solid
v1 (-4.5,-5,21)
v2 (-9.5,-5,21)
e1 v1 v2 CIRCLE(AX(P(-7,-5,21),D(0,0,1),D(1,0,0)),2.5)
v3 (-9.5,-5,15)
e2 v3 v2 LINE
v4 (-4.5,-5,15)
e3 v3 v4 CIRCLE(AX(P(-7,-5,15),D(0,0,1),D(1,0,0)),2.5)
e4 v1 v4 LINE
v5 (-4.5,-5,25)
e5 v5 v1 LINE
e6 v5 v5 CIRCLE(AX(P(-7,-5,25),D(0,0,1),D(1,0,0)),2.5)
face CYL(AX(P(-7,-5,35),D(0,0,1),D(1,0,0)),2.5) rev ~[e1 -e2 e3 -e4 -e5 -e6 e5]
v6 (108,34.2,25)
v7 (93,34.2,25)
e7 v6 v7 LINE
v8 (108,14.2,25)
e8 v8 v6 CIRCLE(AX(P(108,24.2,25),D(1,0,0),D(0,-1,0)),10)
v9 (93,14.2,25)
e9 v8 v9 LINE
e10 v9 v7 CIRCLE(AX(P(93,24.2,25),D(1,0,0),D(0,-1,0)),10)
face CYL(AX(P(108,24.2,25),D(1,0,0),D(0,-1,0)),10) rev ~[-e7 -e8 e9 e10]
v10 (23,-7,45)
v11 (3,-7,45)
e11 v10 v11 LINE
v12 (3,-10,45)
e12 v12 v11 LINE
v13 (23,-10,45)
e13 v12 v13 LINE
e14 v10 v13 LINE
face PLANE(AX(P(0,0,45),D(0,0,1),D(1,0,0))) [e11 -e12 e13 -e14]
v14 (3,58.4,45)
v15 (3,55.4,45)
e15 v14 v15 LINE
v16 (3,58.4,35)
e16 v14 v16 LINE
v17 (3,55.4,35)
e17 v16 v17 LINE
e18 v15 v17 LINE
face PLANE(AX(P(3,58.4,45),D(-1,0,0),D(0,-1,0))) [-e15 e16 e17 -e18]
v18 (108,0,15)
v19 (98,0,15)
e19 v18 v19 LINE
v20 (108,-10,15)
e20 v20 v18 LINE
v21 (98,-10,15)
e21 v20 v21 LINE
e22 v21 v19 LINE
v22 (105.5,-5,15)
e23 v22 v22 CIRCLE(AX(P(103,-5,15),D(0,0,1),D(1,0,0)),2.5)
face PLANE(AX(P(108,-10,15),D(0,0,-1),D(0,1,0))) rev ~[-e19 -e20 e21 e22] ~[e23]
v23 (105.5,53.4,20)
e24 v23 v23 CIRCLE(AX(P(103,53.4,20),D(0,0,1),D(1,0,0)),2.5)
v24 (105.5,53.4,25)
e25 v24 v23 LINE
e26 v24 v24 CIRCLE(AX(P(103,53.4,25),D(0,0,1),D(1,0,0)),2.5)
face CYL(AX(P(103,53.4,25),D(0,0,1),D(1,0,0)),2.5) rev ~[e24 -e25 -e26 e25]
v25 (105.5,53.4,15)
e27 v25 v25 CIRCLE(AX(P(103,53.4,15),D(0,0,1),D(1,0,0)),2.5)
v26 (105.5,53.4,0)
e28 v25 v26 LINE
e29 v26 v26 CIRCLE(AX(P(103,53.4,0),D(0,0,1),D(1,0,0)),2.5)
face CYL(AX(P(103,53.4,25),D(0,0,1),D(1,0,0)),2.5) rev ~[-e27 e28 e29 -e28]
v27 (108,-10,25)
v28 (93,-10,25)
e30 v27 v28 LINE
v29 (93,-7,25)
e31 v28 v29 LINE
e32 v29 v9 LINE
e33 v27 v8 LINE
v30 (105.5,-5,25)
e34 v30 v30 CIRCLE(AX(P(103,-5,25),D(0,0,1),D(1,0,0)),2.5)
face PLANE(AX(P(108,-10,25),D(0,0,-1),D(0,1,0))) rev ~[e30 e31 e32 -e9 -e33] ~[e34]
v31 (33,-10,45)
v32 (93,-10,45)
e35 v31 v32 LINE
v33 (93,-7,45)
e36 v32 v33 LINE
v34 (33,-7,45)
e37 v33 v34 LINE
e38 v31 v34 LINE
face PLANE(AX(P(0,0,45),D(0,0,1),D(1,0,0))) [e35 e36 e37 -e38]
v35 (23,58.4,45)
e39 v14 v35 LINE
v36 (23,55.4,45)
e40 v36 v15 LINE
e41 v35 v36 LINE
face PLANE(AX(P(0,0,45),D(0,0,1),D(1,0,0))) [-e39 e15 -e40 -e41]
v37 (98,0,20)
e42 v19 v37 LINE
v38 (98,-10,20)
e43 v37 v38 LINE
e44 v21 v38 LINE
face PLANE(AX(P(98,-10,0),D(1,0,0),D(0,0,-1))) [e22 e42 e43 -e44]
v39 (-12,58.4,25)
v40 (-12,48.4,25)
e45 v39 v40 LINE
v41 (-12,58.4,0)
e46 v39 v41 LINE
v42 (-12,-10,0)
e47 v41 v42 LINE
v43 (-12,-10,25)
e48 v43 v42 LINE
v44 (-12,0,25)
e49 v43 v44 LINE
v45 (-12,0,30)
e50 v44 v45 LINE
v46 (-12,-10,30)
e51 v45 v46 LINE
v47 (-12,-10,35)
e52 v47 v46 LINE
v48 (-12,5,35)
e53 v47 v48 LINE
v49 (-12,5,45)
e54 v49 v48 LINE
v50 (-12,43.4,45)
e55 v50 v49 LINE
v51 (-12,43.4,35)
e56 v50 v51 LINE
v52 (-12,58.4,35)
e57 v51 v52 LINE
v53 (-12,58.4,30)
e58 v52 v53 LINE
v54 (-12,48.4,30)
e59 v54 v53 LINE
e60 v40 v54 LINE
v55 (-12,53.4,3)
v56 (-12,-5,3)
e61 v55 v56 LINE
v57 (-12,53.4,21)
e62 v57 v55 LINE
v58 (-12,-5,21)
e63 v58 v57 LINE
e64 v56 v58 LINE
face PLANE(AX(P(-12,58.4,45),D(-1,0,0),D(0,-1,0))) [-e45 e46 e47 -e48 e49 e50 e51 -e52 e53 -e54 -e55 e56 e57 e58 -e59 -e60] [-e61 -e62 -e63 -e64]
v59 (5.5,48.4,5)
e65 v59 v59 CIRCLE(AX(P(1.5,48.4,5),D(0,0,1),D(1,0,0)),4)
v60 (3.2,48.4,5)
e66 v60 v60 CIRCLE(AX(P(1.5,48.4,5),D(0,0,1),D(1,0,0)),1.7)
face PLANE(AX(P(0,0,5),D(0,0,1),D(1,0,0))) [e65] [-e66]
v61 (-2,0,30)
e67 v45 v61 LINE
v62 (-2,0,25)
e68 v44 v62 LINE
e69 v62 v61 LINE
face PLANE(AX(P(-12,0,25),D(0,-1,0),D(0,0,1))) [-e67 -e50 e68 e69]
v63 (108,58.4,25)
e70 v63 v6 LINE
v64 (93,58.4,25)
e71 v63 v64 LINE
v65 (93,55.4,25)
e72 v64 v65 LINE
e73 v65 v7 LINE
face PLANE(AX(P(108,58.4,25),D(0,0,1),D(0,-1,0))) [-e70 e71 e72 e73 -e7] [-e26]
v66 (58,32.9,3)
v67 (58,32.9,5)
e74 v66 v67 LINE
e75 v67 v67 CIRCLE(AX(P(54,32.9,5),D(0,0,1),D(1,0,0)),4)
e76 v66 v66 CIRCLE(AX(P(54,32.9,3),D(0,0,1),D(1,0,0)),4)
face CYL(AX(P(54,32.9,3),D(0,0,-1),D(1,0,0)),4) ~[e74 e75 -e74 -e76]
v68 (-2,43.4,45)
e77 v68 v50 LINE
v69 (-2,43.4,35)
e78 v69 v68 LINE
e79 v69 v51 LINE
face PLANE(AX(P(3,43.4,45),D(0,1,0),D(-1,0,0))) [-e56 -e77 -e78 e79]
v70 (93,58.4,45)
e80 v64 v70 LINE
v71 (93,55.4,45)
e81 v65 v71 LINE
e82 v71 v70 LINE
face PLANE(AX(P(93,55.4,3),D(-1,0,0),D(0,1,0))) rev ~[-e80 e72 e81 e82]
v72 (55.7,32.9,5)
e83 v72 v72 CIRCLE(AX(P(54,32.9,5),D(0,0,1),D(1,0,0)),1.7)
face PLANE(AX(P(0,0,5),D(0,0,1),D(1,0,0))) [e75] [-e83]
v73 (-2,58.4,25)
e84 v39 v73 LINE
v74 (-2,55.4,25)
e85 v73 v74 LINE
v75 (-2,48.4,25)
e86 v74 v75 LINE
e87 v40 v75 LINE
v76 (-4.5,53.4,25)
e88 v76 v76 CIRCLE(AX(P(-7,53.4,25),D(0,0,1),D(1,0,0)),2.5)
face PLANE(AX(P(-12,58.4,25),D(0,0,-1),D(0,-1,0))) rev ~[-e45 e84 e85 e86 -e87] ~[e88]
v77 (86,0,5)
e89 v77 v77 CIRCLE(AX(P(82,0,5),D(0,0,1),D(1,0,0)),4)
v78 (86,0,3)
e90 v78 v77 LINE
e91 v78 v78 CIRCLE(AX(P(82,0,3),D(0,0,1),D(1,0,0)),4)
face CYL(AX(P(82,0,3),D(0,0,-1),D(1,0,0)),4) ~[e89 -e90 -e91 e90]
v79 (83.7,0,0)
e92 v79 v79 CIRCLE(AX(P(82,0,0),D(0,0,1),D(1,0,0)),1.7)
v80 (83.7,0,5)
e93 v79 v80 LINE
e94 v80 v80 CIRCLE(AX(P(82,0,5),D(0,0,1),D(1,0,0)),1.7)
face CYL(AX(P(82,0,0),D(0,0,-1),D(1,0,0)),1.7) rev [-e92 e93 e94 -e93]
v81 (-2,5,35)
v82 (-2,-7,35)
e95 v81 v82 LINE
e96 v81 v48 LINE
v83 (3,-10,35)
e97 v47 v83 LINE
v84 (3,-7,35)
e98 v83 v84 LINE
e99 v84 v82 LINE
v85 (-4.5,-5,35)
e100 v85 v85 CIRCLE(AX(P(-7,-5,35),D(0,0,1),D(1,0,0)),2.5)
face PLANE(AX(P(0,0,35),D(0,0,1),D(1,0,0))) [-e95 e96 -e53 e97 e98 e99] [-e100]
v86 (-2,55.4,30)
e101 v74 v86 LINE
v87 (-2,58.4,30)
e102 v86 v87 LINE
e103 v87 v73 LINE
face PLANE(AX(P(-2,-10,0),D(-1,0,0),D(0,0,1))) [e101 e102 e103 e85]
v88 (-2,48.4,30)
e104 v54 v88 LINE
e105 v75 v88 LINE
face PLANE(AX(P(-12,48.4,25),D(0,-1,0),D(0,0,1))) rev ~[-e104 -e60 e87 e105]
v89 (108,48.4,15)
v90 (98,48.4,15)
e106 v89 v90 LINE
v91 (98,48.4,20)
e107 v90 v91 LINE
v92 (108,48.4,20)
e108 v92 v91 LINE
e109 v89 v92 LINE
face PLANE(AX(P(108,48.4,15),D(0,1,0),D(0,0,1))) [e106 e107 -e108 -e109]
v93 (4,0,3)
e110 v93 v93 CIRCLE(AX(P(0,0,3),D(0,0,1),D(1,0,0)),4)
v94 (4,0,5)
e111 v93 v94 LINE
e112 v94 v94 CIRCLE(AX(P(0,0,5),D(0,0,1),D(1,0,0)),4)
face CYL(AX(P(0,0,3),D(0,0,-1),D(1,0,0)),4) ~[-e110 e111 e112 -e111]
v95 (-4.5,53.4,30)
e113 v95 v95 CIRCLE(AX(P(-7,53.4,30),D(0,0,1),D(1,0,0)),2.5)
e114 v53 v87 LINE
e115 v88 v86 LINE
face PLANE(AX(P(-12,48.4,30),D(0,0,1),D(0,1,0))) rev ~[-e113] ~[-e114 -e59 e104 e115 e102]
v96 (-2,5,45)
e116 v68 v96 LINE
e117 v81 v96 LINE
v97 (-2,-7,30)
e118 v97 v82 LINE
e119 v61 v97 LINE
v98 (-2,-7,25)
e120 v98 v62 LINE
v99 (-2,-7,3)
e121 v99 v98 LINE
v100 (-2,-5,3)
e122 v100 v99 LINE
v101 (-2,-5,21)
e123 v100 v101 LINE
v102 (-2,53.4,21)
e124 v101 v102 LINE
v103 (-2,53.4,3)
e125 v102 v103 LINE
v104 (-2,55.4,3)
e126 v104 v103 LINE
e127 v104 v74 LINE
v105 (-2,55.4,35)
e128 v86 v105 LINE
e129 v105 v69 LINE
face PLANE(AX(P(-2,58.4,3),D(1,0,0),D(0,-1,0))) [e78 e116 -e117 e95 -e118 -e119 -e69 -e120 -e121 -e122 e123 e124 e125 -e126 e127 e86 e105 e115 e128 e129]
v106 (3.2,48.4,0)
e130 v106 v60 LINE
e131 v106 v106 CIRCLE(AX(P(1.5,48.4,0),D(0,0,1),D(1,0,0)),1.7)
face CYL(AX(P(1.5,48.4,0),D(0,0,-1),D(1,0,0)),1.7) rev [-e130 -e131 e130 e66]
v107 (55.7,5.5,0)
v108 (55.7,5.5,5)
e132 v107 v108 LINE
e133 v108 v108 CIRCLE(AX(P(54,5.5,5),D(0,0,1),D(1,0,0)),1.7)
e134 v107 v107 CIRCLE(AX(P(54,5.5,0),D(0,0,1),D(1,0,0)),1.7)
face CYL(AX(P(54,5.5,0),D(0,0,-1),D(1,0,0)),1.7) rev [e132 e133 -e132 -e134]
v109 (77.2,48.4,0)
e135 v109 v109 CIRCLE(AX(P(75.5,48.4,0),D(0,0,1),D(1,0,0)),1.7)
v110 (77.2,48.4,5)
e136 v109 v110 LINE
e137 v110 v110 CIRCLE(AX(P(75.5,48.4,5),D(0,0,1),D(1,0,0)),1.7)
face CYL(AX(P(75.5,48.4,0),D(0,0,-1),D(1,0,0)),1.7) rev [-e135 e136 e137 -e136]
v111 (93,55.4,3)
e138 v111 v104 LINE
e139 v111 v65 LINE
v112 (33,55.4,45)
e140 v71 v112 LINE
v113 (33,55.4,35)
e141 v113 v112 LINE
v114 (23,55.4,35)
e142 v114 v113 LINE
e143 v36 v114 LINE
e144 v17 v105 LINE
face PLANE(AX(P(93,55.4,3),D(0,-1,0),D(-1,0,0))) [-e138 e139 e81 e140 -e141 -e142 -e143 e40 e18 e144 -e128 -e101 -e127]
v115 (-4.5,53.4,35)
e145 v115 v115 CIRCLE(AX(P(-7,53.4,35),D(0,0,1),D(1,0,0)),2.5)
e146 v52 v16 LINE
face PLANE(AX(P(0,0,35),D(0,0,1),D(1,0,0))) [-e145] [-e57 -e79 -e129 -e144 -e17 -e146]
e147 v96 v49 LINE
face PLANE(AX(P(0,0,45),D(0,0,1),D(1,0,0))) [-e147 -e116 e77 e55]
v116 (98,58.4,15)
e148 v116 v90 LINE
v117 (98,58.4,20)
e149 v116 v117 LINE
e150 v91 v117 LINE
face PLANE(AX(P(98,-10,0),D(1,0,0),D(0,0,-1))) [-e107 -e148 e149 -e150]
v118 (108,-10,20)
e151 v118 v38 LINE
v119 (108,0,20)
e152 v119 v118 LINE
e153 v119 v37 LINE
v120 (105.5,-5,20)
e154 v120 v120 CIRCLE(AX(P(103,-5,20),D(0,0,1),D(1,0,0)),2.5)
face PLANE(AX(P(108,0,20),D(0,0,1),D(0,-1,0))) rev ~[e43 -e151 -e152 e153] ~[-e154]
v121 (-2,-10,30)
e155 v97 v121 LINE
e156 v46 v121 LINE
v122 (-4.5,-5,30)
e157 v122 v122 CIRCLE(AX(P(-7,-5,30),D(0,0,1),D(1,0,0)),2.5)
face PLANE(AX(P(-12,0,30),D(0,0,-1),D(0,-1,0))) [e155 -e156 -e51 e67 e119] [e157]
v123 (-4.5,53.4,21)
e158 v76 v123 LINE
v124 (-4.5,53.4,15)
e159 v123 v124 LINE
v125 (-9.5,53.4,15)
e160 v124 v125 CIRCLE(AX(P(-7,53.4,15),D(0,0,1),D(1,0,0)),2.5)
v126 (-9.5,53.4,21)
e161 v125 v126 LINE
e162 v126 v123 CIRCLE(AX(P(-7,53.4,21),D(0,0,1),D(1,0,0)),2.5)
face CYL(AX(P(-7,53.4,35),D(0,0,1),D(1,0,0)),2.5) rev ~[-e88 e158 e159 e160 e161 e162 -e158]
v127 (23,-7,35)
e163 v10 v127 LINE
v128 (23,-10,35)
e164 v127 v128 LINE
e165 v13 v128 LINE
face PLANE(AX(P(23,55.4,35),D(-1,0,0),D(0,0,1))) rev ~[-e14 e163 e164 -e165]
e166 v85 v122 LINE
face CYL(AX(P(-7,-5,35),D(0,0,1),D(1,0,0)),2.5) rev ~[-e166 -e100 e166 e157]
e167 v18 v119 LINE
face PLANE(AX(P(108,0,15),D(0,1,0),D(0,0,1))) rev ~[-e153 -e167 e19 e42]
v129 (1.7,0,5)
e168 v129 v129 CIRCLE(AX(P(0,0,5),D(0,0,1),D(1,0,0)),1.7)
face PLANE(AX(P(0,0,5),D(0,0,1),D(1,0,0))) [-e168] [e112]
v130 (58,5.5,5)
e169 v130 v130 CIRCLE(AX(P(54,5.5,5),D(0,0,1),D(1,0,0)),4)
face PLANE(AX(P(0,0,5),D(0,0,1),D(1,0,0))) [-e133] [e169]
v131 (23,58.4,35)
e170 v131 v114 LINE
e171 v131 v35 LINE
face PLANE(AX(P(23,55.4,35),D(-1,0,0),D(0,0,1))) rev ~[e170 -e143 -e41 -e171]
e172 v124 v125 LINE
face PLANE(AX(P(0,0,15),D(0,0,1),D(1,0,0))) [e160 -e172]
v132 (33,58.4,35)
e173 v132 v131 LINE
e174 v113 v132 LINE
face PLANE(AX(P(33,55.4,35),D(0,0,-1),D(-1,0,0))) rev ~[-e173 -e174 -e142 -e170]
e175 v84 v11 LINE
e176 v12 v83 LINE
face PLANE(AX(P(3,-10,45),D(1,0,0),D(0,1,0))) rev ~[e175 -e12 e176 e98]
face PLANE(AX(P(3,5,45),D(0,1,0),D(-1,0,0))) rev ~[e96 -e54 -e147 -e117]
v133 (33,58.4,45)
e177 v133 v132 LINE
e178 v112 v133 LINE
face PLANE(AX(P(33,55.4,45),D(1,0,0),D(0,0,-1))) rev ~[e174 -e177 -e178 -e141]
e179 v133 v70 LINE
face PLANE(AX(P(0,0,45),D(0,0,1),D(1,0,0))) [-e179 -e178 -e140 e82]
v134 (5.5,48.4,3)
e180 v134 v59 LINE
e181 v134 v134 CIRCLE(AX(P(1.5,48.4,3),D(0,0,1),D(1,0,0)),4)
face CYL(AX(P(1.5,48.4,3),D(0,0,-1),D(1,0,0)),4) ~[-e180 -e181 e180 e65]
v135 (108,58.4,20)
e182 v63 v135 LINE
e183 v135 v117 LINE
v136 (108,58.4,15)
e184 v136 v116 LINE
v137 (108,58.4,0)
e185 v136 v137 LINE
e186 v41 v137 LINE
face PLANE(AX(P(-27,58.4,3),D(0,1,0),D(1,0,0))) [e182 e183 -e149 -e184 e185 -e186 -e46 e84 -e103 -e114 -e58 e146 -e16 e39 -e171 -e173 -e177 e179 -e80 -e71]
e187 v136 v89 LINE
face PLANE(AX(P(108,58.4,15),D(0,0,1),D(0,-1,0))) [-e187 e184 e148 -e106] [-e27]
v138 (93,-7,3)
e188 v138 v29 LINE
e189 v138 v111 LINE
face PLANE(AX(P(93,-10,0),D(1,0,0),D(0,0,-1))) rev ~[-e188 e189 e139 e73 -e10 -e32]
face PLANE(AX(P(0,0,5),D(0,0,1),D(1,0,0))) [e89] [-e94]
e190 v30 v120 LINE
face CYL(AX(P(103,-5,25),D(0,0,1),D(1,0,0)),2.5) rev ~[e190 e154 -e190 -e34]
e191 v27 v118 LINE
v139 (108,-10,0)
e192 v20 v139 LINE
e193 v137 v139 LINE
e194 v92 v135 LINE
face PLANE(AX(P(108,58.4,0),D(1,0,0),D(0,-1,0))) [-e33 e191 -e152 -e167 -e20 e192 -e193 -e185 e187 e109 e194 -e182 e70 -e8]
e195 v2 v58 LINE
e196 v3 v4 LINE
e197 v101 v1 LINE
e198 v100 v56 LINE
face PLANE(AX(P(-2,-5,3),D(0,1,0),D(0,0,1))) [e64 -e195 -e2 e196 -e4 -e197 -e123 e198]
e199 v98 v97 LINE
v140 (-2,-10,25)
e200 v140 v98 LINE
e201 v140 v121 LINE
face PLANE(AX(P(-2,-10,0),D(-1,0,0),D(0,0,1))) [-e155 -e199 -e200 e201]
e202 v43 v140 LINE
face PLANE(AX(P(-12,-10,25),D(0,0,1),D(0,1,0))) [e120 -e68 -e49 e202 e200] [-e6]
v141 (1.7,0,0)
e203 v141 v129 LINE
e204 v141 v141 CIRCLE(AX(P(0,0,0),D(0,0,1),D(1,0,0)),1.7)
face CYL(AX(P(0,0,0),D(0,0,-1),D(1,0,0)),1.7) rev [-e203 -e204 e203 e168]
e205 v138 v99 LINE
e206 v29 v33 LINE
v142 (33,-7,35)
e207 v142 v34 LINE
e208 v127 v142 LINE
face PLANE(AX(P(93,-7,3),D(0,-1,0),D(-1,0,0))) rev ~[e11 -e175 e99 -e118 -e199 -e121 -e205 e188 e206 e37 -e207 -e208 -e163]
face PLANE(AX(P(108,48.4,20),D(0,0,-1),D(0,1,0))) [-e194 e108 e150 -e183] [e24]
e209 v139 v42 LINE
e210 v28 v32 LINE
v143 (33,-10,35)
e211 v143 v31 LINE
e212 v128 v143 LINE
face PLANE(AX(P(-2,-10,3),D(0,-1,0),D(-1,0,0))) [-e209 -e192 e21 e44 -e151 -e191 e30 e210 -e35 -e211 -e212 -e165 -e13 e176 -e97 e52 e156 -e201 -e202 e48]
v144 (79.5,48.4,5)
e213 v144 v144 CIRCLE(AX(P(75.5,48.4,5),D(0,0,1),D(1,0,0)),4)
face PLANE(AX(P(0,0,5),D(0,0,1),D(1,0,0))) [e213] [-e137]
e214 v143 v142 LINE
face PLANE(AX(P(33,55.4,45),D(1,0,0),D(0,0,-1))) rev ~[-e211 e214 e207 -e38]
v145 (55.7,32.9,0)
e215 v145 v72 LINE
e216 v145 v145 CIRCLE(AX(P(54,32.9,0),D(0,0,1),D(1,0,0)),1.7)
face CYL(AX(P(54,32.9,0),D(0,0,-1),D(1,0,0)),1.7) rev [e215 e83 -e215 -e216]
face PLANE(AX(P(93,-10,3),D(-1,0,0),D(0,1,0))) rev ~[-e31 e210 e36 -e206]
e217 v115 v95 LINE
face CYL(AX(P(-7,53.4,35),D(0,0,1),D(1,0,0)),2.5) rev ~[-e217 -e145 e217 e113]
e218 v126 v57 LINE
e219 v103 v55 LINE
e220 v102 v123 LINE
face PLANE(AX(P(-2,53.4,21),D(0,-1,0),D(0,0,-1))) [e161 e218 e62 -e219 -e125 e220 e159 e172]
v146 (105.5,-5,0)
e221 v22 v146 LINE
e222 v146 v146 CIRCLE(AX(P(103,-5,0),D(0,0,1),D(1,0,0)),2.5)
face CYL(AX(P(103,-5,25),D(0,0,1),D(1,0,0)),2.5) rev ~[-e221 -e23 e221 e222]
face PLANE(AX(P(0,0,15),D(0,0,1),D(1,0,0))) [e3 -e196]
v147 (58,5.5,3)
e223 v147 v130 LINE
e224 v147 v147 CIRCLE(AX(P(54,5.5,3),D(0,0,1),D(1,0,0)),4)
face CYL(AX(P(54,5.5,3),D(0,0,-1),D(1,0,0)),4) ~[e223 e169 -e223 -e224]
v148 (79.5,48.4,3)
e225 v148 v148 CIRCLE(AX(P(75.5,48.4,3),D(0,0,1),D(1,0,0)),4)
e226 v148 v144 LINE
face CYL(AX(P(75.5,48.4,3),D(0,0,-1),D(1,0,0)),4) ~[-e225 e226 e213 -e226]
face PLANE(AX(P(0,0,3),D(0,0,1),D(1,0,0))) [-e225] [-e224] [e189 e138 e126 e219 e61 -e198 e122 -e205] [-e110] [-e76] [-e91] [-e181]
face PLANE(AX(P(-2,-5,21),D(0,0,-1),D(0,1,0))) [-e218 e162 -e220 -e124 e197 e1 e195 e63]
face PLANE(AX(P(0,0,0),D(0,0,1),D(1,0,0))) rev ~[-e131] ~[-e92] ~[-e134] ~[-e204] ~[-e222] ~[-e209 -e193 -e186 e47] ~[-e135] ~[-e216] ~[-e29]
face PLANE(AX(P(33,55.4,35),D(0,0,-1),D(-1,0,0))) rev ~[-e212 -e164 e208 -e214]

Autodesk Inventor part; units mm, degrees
ref_plane "YZ Plane" through (0, 0, 0) normal (1, 0, 0) x (0, 1, 0)
ref_plane "XZ Plane" through (0, 0, 0) normal (0, 1, 0) x (-1, 0, 0)
ref_plane "XY Plane" through (0, 0, 0) normal (0, 0, 1) x (1, 0, 0)
sketch "Sketch1" plane through (0, 0, 0) normal (0, 0, 1) x (1, 0, 0)
  line L0 (-27, 58.4) -> (108, 58.4)
  line L1 (108, 58.4) -> (108, -10)
  line L2 (108, -10) -> (-27, -10)
  line L3 (-27, -10) -> (-27, 58.4)
  circle A0 centre (82, 0) radius 1.7
  circle A1 centre (54, 5.5) radius 1.7
  circle A2 centre (54, 32.9) radius 1.7
  circle A3 centre (75.5, 48.4) radius 1.7
  circle A4 centre (1.5, 48.4) radius 1.7
  circle A5 centre (0, 0) radius 1.7
  dimension "d63" = 82
  dimension "d64" = 48.4
  dimension "d65" = 1.5
  dimension "d66" = 15.5
  dimension "d67" = 27.4
  dimension "d68" = 48.4
  dimension "d69" = 6.5
  dimension "d70" = 74
  dimension "d71" = 5.5
  dimension "d72" = 28
  dimension "d75" = 135
  dimension "d76" = 68.4
  dimension "d77" = 10
  dimension "d78" = 27
  dimension "d79" = 3.4
  dimension "d80" = 3.4
  dimension "d81" = 3.4
  dimension "d82" = 3.4
  dimension "d83" = 3.4
  dimension "d84" = 3.4
extrude "Extrusion1" add sketch "Sketch1" along normal blind 3
sketch "Sketch2" plane through (108, -10, 0) normal (1, 0, 0) x (0, 0, -1)
  circle A0 centre (-25, 34.2) radius 10 construction
  line L0 (-3, 0) -> (-3, 68.4) projected
  line L1 (0, 0) -> (-3, 0) projected
  line L2 (-3, 0) -> (-25, 0)
  line L3 (-25, 0) -> (-25, 68.4) construction
  line L4 (-25, 68.4) -> (-3, 68.4)
  line L5 (-25, 68.4) -> (-25, 44.2)
  line L6 (-25, 0) -> (-25, 24.2)
  arc A1 (-25, 24.2) -> (-25, 44.2) centre (-25, 34.2) ccw
  point P0 (0, 10)
  point P1 (-3, 34.2)
  point P2 (-3, 34.2)
  dimension "d23" = 20
  dimension "d24" = 22
extrude "Extrusion2" add sketch "Sketch2" against normal blind 15
sketch "Sketch3" plane through (108, -10, 25) normal (0, 0, 1) x (1, 0, 0)
  circle A0 centre (-5, 5) radius 2.5
  line L0 (0, 0) -> (-15, 0) projected
  line L1 (0, 24.2) -> (0, 0) projected
  point P0 (-108, 10)
  dimension "d28" = 5
  dimension "d29" = 5
  dimension "d30" = 5
extrude "Extrusion3" cut sketch "Sketch3" against normal through all
sketch "Sketch4" plane through (0, 0, 3) normal (0, 0, 1) x (1, 0, 0)
  line L0 (-27, 58.4) -> (108, 58.4) projected
  line L1 (-27, 58.4) -> (-2, 58.4)
  line L2 (-2, 58.4) -> (-2, -10)
  line L3 (-2, -10) -> (-27, -10)
  line L4 (-27, -10) -> (-27, 58.4)
  point P0 (0, 0)
  point P1 (93, -10)
  dimension "d33" = 25
extrude "Extrusion4" add sketch "Sketch4" along normal blind 42
sketch "Sketch5" plane through (-2, -10, 3) normal (1, 0, 0) x (0, 0, -1)
  line L0 (0, 68.4) -> (0, 0) projected
  line L1 (0, 0) -> (0, 68.4) projected
  line L2 (0, 5) -> (-18, 5)
  line L3 (-18, 5) -> (-18, 63.4)
  line L4 (-18, 63.4) -> (0, 63.4)
  line L5 (0, 63.4) -> (0, 5)
  line L6 (3, 68.4) -> (-42, 68.4) projected
  point P0 (3, 10)
  point P1 (0, 8.3)
  point P2 (0, 11.7)
  point P3 (0, 23.8)
  point P4 (0, 27.2)
  point P5 (0, 51.2)
  point P6 (0, 54.6)
  point P7 (0, 56.7)
  point P8 (0, 60.1)
  point P9 (0, 56.7)
  point P10 (0, 60.1)
  point P11 (0, 8.3)
  point P12 (0, 11.7)
  dimension "d36" = 5
  dimension "d37" = 5
  dimension "d38" = 18
extrude "Extrusion5" cut sketch "Sketch5" against normal through all
sketch "Sketch6" plane through (0, 0, 3) normal (0, 0, 1) x (1, 0, 0)
  line L0 (-2, -10) -> (93, -10) projected
  line L1 (93, -10) -> (93, 58.4) projected
  line L2 (-2, -10) -> (93, -10)
  line L3 (93, -10) -> (93, -7)
  line L4 (93, -7) -> (-2, -7)
  line L5 (-2, -7) -> (-2, -10)
  line L6 (93, 58.4) -> (-2, 58.4) projected
  line L7 (-2, 58.4) -> (93, 58.4)
  line L8 (93, 58.4) -> (93, 55.4)
  line L9 (93, 55.4) -> (-2, 55.4)
  line L10 (-2, 55.4) -> (-2, 58.4)
  point P0 (0, 0)
  dimension "d41" = 3
  dimension "d42" = 3
extrude "Extrusion6" add sketch "Sketch6" along normal blind 42
sketch "Sketch7" plane through (108, 34.2, 25) normal (0, 0, 1) x (1, 0, 0)
  circle A0 centre (-5, 19.2) radius 2.5
  line L0 (0, 24.2) -> (-15, 24.2) projected
  point P0 (-108, -34.2)
  dimension "d45" = 5
  dimension "d46" = 5
  dimension "d47" = 5
extrude "Extrusion7" cut sketch "Sketch7" against normal through all
sketch "Sketch9" plane through (-2, 55.4, 3) normal (0, -1, 0) x (1, 0, 0)
  line L0 (0, 42) -> (95, 42) projected
  line L1 (25, 42) -> (35, 42)
  line L2 (35, 42) -> (35, 32)
  line L3 (35, 32) -> (25, 32)
  line L4 (25, 32) -> (25, 42)
  point P0 (2, -3)
  dimension "d50" = 25
  dimension "d51" = 10
  dimension "d52" = 10
extrude "Extrusion8" cut sketch "Sketch9" along normal through all both and the other way through all
sketch "Sketch10" plane through (108, -10, 0) normal (1, 0, 0) x (0, 0, -1)
  line L0 (0, 7.5) -> (0, 2.5) projected
  line L1 (-25, 2.5) -> (-25, 7.5) projected
  line L2 (0, 65.9) -> (0, 60.9) projected
  line L3 (-25, 60.9) -> (-25, 65.9) projected
  line L4 (0, 0) -> (-45, 0) projected
  line L5 (-20, 0) -> (-15, 0)
  line L6 (-15, 0) -> (-15, 10)
  line L7 (-15, 10) -> (-20, 10)
  line L8 (-20, 10) -> (-20, 0)
  line L9 (0, 68.4) -> (-45, 68.4) projected
  line L10 (-20, 68.4) -> (-15, 68.4)
  line L11 (-15, 68.4) -> (-15, 58.4)
  line L12 (-15, 58.4) -> (-20, 58.4)
  line L13 (-20, 58.4) -> (-20, 68.4)
  point P0 (0, 10)
  dimension "d55" = 5
  dimension "d56" = 10
  dimension "d57" = 5
  dimension "d58" = 10
extrude "Extrusion9" cut sketch "Sketch10" against normal blind 10
sketch "Sketch12" plane through (0, 0, 45) normal (0, 0, 1) x (1, 0, 0)
  line L0 (23, 58.4) -> (-27, 58.4) projected
  line L1 (-27, -10) -> (23, -10) projected
  line L2 (-27, 58.4) -> (-12, 58.4)
  line L3 (-12, 58.4) -> (-12, -10)
  line L4 (-12, -10) -> (-27, -10)
  line L5 (-27, -10) -> (-27, 58.4)
  line L6 (-2, -7) -> (-2, 55.4) projected
  point P0 (0, 0)
  dimension "d85" = 10
extrude "Extrusion10" cut sketch "Sketch12" against normal through all
sketch "Sketch13" plane through (0, 0, 45) normal (0, 0, 1) x (1, 0, 0)
  line L0 (-12, -10) -> (-12, 58.4) projected
  line L1 (-12, 58.4) -> (3, 58.4)
  line L2 (3, 58.4) -> (3, 43.4)
  line L3 (3, 43.4) -> (-12, 43.4)
  line L4 (-12, 43.4) -> (-12, 58.4)
  line L5 (-12, -10) -> (3, -10)
  line L6 (3, -10) -> (3, 5)
  line L7 (3, 5) -> (-12, 5)
  line L8 (-12, 5) -> (-12, -10)
  point P0 (0, 0)
  dimension "d88" = 15
  dimension "d89" = 15
  dimension "d90" = 15
  dimension "d91" = 15
extrude "Extrusion11" cut sketch "Sketch13" against normal blind 10
sketch "Sketch14" plane through (0, 0, 35) normal (0, 0, 1) x (1, 0, 0)
  circle A0 centre (-7, 53.4) radius 2.5
  circle A1 centre (-7, -5) radius 2.5
  line L0 (3, -10) -> (-12, -10) projected
  line L1 (-12, 58.4) -> (3, 58.4) projected
  line L2 (-12, 43.4) -> (-12, 58.4) projected
  point P0 (0, 0)
  dimension "d94" = 5
  dimension "d95" = 5
  dimension "d96" = 5
  dimension "d97" = 5
  dimension "d98" = 5
extrude "Extrusion12" cut sketch "Sketch14" against normal blind 20
sketch "Sketch15" plane through (-12, -10, 0) normal (-1, 0, 0) x (0, 0, 1)
  line L0 (30, 68.4) -> (25, 68.4)
  line L1 (25, 68.4) -> (25, 58.4)
  line L2 (25, 58.4) -> (30, 58.4)
  line L3 (30, 58.4) -> (30, 68.4)
  line L4 (25, 0) -> (45, 0) projected
  line L5 (30, 0) -> (25, 0)
  line L6 (25, 0) -> (25, 10)
  line L7 (25, 10) -> (30, 10)
  line L8 (30, 10) -> (30, 0)
  line L9 (0, 68.4) -> (35, 68.4) projected
  line L10 (35, 0) -> (35, 15) projected
  point P0 (0, 10)
  dimension "d101" = 5
  dimension "d102" = 10
  dimension "d103" = 10
  dimension "d104" = 5
extrude "Extrusion13" cut sketch "Sketch15" against normal blind 10
sketch "Sketch16" plane through (0, 0, 3) normal (0, 0, 1) x (1, 0, 0)
  circle A0 centre (0, 0) radius 1.7 projected
  circle A1 centre (1.5, 48.4) radius 1.7 projected
  circle A2 centre (54, 32.9) radius 1.7 projected
  circle A3 centre (75.5, 48.4) radius 1.7 projected
  circle A4 centre (54, 5.5) radius 1.7 projected
  circle A5 centre (82, 0) radius 1.7 projected
  circle A6 centre (75.5, 48.4) radius 4
  circle A7 centre (54, 32.9) radius 4
  circle A8 centre (54, 5.5) radius 4
  circle A9 centre (82, 0) radius 4
  circle A10 centre (0, 0) radius 1.7 projected
  circle A11 centre (0, 0) radius 4
  circle A12 centre (1.5, 48.4) radius 4
  dimension "d107" = 8
  dimension "d108" = 8
  dimension "d109" = 8
  dimension "d110" = 8
  dimension "d111" = 8
  dimension "d112" = 8
extrude "Extrusion14" add sketch "Sketch16" along normal blind 2
properties part number "BP007" material "ABS Plastic"
